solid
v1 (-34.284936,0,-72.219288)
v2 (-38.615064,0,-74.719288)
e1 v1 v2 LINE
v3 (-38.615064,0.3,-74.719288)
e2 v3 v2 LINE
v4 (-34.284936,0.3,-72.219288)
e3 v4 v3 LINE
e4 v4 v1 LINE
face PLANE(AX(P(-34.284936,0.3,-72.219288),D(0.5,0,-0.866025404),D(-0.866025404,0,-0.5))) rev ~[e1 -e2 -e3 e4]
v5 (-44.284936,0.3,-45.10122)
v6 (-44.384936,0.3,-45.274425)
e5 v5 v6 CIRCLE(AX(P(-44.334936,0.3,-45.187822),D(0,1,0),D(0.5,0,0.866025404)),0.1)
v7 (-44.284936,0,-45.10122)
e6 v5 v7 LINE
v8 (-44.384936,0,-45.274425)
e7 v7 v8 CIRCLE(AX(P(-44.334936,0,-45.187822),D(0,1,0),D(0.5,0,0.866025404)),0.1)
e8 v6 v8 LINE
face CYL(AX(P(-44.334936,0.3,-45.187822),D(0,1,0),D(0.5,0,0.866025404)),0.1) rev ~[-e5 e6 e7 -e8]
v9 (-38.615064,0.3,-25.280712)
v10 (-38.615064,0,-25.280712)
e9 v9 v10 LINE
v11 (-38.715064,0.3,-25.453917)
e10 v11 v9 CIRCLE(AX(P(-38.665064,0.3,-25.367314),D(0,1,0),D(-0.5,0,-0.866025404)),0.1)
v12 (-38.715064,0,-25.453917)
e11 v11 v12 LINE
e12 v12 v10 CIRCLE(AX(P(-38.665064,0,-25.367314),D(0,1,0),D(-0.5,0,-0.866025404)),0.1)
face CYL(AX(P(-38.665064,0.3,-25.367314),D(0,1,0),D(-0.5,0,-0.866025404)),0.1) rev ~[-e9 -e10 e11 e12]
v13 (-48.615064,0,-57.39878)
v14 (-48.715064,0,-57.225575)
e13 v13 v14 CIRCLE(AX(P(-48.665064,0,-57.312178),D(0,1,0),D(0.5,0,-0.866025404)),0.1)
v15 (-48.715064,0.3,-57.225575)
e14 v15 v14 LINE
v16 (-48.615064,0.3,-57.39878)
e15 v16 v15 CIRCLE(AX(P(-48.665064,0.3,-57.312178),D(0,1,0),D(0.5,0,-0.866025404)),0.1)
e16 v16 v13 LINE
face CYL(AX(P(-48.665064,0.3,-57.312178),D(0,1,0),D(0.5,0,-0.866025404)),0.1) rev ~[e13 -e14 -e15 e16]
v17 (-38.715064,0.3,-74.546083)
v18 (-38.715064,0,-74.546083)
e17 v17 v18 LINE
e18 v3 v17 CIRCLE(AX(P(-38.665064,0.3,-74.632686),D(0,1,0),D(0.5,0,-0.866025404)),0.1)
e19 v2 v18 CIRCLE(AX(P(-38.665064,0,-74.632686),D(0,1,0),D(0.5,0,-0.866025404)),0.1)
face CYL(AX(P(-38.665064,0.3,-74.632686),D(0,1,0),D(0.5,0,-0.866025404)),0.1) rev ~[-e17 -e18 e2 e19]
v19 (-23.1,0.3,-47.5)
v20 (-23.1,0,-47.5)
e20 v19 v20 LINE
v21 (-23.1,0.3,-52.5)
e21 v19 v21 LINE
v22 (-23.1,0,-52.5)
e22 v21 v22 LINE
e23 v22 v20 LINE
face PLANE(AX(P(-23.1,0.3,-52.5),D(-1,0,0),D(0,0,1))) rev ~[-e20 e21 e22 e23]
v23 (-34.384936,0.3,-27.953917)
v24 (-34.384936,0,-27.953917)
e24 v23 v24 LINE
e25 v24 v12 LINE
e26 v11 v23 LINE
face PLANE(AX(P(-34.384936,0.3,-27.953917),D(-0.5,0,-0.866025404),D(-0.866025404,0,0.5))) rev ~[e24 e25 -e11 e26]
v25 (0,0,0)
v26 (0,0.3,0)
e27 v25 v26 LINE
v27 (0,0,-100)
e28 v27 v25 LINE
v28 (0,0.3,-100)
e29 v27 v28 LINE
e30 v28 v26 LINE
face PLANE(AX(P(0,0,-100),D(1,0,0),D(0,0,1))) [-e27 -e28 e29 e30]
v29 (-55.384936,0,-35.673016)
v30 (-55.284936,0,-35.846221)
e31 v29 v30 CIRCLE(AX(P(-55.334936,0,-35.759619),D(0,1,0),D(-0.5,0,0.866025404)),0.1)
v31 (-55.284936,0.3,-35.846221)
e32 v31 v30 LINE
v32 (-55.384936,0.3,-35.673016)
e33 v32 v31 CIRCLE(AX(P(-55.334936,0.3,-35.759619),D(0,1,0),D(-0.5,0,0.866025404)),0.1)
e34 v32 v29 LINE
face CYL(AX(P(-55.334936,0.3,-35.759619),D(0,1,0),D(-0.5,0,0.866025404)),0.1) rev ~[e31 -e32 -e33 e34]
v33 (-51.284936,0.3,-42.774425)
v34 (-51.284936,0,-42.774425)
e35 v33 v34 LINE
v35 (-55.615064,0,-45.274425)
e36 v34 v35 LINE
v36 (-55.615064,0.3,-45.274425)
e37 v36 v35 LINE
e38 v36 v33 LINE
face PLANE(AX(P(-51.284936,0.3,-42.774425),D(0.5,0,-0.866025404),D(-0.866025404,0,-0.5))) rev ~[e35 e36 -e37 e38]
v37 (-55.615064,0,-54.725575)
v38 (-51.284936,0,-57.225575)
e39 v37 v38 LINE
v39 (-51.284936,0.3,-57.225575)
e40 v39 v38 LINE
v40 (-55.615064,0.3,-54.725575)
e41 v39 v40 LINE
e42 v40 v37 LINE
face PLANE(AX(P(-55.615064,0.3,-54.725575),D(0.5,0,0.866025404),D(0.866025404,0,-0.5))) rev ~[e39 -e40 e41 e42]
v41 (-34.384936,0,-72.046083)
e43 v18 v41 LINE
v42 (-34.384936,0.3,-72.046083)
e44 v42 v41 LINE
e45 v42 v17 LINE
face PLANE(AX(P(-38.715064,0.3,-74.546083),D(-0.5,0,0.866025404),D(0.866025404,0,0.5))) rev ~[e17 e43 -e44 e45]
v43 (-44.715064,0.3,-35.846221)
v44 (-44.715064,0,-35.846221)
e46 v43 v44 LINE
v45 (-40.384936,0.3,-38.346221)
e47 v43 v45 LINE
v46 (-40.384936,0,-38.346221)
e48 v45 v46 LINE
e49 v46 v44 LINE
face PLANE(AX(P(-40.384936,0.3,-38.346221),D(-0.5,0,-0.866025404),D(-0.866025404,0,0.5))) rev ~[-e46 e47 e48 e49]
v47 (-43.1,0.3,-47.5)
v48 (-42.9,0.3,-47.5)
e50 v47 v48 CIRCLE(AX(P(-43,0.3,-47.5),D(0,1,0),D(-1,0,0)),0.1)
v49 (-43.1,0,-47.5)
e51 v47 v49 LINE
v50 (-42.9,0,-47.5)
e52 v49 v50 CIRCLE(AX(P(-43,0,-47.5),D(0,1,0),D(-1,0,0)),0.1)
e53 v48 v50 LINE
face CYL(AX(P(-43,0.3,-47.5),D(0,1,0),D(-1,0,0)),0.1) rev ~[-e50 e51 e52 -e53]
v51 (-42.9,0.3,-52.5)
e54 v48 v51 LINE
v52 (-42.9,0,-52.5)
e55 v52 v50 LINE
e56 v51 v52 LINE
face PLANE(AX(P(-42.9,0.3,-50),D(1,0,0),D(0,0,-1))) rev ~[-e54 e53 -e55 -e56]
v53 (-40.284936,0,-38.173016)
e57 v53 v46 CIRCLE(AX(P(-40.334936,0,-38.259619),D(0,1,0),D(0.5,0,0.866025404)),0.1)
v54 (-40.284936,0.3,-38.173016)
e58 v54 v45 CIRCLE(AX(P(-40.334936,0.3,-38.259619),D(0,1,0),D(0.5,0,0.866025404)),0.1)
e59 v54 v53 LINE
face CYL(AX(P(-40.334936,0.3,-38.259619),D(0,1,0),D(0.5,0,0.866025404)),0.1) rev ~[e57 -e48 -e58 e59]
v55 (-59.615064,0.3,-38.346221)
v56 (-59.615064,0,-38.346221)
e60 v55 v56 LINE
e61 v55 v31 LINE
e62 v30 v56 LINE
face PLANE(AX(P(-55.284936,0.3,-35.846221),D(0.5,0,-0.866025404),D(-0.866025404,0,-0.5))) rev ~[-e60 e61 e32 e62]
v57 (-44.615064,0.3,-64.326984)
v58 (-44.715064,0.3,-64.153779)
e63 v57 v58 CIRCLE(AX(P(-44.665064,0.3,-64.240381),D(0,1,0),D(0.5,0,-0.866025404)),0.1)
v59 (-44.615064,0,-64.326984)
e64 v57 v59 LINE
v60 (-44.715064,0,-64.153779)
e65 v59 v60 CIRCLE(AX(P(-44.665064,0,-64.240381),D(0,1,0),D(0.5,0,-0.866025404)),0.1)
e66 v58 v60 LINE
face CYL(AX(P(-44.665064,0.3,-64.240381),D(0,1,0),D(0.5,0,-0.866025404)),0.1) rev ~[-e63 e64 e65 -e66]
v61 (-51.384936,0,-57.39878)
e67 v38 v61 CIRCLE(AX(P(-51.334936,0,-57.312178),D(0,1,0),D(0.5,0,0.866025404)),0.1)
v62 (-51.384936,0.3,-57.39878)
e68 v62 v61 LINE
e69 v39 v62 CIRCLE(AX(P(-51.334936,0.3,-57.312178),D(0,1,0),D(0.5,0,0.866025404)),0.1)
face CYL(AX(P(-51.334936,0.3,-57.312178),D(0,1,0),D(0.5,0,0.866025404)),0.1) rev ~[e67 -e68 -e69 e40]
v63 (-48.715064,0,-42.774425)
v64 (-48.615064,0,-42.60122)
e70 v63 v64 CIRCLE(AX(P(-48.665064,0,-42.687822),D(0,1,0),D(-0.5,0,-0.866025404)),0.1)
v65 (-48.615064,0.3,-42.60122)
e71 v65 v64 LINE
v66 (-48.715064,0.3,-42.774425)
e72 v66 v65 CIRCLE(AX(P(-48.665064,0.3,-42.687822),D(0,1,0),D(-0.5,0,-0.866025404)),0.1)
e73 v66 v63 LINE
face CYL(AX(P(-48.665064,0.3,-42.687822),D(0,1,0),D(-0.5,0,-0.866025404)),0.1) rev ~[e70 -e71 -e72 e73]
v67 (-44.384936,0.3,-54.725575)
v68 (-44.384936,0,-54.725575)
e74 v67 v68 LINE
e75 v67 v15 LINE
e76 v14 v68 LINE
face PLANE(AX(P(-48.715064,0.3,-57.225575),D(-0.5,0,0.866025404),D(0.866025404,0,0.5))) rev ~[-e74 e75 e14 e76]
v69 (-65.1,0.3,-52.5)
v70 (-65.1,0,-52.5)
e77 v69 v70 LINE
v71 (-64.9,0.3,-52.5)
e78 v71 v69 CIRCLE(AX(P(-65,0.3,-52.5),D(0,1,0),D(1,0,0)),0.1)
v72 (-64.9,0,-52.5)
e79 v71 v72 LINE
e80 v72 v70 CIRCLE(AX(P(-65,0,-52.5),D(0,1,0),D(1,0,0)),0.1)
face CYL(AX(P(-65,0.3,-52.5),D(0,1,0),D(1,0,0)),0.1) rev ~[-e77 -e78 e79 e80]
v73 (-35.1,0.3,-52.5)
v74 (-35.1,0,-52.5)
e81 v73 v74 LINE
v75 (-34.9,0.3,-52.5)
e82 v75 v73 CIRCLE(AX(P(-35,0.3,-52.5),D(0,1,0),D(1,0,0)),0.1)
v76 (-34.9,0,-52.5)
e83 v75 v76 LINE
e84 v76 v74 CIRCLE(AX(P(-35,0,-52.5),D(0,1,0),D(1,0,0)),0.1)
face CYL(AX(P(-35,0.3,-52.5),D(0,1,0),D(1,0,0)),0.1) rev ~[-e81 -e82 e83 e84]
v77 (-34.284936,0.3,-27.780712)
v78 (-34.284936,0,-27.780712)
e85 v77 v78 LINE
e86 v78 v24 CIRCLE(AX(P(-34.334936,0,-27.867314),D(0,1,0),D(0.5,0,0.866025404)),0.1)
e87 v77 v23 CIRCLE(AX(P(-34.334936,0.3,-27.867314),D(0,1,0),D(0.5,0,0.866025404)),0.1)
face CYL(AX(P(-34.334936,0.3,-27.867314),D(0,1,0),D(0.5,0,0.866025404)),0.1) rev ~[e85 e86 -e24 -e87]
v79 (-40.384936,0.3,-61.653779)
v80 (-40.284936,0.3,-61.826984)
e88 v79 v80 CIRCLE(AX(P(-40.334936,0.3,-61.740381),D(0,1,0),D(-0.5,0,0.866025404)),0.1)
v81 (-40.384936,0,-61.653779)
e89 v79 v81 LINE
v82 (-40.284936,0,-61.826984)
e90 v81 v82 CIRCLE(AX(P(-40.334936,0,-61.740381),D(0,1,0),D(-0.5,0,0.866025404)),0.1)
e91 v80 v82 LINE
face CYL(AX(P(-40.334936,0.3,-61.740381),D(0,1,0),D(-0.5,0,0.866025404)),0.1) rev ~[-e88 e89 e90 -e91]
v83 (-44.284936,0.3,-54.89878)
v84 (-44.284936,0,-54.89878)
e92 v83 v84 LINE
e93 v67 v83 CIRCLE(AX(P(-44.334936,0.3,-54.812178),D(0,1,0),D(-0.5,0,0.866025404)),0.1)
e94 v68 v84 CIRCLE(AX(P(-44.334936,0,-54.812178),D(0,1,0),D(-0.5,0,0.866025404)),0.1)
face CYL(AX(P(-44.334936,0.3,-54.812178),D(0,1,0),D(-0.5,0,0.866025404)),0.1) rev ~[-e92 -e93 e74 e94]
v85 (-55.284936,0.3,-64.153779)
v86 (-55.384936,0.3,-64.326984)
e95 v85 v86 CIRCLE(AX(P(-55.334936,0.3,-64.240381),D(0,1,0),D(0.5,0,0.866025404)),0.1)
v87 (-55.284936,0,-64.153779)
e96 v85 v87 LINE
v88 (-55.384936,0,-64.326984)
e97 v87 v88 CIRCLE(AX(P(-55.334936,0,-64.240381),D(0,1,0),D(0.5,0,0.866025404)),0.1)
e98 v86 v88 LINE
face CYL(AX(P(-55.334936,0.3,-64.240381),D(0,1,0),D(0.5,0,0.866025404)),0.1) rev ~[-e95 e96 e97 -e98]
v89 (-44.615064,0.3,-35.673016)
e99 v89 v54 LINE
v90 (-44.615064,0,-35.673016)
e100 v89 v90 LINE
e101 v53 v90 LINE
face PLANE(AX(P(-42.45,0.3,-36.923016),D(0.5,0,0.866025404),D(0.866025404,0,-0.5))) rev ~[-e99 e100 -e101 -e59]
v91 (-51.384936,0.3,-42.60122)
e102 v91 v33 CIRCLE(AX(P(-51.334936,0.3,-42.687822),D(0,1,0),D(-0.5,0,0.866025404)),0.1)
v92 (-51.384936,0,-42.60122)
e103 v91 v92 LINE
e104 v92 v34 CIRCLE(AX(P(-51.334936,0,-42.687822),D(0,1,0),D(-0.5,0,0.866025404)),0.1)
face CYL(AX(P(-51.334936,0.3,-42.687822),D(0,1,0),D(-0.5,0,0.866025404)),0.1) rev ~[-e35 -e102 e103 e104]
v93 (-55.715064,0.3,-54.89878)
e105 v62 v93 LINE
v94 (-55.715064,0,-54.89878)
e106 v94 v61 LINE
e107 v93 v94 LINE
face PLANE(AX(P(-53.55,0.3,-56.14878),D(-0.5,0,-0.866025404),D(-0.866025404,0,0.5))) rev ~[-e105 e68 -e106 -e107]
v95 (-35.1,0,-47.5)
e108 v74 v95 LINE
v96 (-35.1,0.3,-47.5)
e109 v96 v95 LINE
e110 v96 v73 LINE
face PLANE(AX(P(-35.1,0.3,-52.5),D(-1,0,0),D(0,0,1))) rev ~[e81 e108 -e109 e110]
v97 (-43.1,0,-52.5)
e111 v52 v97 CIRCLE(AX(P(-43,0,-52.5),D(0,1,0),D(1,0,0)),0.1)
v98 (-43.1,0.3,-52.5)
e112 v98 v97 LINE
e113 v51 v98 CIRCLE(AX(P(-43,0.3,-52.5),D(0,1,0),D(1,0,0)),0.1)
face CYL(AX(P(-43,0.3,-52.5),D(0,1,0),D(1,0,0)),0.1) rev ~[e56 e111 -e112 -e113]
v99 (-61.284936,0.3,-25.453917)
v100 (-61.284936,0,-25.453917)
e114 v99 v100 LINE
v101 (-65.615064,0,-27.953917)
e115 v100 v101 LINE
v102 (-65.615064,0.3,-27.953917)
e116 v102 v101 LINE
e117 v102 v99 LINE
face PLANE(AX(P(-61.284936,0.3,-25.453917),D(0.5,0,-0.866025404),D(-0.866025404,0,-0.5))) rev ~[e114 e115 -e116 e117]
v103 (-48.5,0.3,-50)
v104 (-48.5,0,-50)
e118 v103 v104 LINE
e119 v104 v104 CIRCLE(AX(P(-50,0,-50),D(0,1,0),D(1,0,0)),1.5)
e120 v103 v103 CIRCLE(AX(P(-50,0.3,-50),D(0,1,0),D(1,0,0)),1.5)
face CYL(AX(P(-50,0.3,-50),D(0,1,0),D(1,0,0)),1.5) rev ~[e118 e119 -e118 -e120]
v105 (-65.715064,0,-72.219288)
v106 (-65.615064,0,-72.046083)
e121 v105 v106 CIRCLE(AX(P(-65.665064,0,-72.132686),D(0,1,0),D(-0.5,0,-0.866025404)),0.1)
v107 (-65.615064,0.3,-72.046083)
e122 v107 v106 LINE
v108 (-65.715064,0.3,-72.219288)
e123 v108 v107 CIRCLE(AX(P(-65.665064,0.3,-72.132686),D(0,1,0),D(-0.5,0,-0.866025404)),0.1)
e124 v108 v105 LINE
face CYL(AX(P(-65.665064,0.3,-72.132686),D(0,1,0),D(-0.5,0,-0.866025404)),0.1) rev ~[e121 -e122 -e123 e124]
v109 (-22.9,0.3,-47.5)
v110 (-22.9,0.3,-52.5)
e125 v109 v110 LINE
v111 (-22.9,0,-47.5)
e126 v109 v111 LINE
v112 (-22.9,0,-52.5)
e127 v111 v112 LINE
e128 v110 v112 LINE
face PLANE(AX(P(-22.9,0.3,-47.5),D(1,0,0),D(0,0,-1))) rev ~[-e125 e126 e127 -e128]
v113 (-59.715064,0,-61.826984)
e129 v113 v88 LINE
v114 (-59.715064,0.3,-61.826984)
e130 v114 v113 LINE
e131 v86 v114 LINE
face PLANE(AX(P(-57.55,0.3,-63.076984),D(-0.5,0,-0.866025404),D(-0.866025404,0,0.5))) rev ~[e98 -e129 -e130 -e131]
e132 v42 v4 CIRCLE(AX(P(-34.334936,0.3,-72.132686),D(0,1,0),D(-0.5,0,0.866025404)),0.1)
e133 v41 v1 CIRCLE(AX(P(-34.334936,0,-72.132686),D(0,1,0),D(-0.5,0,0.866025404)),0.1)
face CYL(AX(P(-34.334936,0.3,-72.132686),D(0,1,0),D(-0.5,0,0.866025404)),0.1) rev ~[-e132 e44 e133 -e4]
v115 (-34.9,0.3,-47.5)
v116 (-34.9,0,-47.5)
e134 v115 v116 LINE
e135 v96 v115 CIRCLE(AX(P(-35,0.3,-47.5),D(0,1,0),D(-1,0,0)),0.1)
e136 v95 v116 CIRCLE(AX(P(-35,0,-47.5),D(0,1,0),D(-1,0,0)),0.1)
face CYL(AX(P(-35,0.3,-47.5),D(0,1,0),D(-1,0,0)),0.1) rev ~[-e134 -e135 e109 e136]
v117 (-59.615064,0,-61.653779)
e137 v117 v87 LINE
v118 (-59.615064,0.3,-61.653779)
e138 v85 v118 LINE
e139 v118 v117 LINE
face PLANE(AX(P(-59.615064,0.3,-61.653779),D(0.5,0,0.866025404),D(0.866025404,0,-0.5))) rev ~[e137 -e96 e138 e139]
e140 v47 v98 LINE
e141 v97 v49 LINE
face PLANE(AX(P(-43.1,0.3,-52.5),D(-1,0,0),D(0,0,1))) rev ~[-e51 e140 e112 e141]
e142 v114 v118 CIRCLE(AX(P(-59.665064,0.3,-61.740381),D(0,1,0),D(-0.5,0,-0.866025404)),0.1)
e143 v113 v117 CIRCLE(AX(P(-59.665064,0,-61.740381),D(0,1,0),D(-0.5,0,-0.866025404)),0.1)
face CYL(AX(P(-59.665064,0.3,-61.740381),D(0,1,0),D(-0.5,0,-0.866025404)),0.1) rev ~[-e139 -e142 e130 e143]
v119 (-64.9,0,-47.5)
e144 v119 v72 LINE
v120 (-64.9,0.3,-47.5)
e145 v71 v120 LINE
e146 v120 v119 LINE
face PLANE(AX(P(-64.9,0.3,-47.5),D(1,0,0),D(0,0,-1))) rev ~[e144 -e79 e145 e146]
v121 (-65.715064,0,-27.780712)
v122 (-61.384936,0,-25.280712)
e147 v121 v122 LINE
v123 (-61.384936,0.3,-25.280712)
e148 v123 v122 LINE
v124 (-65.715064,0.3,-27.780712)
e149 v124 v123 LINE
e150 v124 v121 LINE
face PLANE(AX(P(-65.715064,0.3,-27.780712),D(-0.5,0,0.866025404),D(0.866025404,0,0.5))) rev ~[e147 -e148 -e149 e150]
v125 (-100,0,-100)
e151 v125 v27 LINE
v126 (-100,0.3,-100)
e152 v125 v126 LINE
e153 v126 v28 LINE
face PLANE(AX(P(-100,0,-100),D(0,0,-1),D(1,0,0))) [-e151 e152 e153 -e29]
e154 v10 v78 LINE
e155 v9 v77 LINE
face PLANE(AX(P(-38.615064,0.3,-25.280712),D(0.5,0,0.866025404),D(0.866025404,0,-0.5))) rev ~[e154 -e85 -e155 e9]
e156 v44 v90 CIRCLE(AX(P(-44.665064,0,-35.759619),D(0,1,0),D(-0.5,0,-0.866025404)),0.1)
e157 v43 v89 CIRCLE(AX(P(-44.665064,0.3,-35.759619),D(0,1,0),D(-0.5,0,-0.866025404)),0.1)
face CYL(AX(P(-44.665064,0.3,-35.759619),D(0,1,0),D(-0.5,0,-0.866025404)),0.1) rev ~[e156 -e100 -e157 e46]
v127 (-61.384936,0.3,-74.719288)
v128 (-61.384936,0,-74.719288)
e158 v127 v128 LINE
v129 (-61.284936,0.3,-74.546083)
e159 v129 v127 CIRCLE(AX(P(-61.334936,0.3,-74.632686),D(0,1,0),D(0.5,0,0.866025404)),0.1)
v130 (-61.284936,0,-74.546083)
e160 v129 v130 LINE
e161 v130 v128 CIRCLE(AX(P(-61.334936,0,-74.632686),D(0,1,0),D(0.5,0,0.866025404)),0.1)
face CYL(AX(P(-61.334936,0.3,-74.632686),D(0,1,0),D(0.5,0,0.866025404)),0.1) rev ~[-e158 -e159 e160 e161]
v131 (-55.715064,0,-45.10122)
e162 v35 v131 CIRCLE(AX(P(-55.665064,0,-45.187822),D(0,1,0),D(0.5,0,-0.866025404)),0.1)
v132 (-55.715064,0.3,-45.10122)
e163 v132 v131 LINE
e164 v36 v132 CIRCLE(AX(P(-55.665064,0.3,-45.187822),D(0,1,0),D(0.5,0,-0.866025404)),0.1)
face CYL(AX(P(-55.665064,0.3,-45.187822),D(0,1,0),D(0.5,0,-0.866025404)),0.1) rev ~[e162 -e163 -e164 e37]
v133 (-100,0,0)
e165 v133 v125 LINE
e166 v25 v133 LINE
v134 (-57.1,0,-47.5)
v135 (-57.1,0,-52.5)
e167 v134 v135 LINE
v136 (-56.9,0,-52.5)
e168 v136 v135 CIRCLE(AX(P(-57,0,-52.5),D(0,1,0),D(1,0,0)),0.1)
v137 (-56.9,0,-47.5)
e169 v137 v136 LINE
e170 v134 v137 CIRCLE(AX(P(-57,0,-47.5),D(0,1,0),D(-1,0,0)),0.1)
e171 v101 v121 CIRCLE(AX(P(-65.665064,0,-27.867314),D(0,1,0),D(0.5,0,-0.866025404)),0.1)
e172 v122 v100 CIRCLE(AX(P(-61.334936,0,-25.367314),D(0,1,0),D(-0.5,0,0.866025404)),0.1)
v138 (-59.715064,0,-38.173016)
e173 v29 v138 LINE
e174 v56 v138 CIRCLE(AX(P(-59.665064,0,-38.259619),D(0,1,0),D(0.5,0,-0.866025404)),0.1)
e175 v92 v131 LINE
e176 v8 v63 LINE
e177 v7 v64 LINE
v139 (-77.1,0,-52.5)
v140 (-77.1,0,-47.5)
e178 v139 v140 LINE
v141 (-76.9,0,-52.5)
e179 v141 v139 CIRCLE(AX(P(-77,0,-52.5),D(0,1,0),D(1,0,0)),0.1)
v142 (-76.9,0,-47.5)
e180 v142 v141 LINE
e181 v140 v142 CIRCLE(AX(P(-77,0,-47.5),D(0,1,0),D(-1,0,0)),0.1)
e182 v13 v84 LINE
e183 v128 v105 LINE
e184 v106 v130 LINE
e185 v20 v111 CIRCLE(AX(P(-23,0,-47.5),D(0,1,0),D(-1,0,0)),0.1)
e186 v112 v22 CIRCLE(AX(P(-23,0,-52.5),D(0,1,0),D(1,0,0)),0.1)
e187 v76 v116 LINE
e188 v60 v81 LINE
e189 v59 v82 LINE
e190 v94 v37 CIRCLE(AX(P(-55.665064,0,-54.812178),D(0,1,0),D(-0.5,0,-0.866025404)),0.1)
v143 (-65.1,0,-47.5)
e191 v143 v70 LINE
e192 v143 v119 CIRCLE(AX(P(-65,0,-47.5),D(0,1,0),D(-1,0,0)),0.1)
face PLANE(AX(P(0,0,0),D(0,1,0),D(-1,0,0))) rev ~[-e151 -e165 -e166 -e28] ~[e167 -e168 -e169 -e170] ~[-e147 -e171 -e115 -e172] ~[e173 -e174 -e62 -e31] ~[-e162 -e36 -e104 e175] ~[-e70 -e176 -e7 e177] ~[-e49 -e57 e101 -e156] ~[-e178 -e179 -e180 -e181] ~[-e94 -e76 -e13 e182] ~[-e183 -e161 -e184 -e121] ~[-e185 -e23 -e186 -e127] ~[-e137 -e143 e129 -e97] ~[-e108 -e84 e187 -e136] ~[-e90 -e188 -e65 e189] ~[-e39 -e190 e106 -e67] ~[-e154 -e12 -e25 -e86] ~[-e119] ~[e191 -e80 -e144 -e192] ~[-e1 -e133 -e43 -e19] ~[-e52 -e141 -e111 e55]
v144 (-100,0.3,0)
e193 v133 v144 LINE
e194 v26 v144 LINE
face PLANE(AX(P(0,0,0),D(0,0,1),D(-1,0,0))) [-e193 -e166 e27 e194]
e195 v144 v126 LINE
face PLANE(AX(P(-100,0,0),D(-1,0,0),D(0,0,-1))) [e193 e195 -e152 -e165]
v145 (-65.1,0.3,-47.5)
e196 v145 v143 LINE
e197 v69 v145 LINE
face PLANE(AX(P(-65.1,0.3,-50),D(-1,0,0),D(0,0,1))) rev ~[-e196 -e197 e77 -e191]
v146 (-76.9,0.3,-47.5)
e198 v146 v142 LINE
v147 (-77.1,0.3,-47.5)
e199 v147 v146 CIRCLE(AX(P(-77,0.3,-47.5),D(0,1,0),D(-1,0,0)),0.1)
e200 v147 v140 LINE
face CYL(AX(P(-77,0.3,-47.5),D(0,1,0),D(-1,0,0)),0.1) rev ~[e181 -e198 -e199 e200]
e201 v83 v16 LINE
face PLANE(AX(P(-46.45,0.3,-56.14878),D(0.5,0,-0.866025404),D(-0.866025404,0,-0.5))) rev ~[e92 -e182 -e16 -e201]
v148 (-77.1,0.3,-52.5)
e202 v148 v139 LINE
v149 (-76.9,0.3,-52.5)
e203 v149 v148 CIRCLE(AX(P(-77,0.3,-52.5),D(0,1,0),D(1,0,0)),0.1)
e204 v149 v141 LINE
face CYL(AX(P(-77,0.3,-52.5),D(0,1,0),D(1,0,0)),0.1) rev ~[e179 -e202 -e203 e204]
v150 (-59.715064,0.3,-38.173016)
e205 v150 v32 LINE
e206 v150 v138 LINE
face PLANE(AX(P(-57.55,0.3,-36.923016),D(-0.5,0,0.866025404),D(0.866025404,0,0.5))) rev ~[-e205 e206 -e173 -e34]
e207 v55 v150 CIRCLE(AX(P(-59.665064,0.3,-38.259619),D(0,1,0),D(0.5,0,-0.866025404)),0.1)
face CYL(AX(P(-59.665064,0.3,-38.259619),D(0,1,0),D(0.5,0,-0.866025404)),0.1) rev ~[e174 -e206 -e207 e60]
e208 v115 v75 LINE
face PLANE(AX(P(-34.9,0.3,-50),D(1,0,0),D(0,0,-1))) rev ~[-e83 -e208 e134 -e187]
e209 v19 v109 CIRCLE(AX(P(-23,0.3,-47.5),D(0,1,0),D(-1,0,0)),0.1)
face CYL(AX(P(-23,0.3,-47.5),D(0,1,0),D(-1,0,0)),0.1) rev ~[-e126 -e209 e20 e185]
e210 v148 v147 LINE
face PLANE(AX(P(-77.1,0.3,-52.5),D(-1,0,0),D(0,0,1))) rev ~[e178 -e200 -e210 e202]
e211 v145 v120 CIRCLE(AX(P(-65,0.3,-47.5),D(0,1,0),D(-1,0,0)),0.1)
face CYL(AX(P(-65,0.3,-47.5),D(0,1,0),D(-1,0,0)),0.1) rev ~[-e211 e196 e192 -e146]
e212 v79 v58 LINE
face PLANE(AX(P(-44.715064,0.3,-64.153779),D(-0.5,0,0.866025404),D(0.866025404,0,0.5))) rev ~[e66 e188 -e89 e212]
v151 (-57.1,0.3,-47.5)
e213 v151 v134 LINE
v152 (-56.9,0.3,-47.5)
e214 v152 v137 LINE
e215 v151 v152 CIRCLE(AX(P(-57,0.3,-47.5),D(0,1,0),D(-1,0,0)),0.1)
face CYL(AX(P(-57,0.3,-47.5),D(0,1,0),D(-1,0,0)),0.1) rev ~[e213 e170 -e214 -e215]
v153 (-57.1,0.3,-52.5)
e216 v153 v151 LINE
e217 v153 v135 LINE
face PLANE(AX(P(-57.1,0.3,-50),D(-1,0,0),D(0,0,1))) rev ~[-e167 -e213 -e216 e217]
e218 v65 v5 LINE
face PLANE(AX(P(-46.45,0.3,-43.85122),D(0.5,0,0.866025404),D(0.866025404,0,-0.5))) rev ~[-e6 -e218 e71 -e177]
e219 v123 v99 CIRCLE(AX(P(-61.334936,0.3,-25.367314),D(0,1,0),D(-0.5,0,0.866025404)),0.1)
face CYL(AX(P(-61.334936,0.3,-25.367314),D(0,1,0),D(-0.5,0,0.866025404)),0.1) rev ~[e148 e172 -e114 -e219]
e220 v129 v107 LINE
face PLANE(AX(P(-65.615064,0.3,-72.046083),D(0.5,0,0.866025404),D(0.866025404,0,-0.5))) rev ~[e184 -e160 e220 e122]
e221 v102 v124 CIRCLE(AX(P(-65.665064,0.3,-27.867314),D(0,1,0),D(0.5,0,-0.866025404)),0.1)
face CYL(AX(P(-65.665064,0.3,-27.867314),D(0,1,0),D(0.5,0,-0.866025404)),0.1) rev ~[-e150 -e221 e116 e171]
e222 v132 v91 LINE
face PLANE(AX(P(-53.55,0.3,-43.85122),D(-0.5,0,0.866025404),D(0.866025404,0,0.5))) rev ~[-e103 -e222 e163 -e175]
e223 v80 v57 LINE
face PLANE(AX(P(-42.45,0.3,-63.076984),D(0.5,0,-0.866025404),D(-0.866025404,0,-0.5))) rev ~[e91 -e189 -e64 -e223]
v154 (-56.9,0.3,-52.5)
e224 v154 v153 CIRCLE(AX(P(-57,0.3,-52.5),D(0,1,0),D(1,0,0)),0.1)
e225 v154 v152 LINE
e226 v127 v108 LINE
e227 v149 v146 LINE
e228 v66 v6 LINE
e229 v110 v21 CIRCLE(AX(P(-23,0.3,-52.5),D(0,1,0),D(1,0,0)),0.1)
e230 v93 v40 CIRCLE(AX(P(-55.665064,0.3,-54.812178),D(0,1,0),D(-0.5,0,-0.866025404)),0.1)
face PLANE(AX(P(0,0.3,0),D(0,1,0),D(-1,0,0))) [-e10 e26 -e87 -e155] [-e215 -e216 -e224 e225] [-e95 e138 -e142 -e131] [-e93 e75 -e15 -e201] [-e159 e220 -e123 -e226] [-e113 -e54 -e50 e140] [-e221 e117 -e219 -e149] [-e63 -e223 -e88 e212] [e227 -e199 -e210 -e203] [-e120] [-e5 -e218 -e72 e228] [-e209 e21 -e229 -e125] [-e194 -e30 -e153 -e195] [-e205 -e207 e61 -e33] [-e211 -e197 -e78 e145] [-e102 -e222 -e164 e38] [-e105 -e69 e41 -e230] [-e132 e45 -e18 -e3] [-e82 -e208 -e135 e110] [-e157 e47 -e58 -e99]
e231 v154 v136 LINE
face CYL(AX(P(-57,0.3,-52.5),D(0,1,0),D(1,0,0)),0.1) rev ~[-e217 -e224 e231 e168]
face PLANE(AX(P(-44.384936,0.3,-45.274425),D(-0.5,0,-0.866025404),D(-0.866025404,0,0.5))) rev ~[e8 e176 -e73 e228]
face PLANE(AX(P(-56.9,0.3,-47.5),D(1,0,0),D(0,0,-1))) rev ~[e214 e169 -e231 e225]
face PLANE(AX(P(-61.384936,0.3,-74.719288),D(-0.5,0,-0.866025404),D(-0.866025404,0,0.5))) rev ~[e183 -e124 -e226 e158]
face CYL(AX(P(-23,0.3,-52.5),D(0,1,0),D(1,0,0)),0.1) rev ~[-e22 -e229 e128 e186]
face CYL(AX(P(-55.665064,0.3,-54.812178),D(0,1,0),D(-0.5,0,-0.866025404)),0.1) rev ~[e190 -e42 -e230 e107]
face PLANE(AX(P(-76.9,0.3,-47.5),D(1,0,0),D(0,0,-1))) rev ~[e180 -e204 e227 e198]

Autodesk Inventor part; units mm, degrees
ref_plane "YZ Plane" through (0, 0, 0) normal (1, 0, 0) x (0, 1, 0)
ref_plane "XZ Plane" through (0, 0, 0) normal (0, 1, 0) x (-1, 0, 0)
ref_plane "XY Plane" through (0, 0, 0) normal (0, 0, 1) x (1, 0, 0)
sketch "Sketch1" plane through (0, 0, 0) normal (0, 1, 0) x (-1, 0, 0)
  line L0 (0, 0) -> (100, 0)
  line L1 (100, 0) -> (100, -100)
  line L2 (100, -100) -> (0, -100)
  line L3 (0, -100) -> (0, 0)
  dimension "d0" = 100
  dimension "d1" = 100
extrude "Extrusion1" add sketch "Sketch1" along normal blind 0.3
sketch "Sketch2" plane through (0, 0.3, 0) normal (0, 1, 0) x (1, 0, 0)
  line L0 (-100, 100) -> (-100, 0) projected
  line L1 (-100, 0) -> (0, 0) projected
  line L2 (0, 0) -> (0, 100) projected
  line L3 (0, 100) -> (-100, 100) projected
  line L4 (0, 0) -> (0, 50)
  line L5 (0, 0) -> (0, 100) projected
  line L6 (0, 50) -> (-50, 50)
  circle A0 centre (-50, 50) radius 1.5
  dimension "d4" = 50
  dimension "d5" = 3
extrude "Extrusion2" cut sketch "Sketch2" against normal blind 0.3 contours A0
sketch "Sketch3" plane through (0, 0.3, 0) normal (0, 1, 0) x (1, 0, 0)
  circle A0 centre (-50, 50) radius 1.5 projected
  line L0 (-100, 100) -> (-100, 0) projected
  line L1 (-100, 0) -> (0, 0) projected
  line L2 (0, 0) -> (0, 100) projected
  line L3 (0, 100) -> (-100, 100) projected
  line L4 (-50, 50) -> (-57, 50)
  line L5 (-57, 47.5) -> (-57, 52.5) construction
  line L6 (-56.9, 47.5) -> (-56.9, 52.5)
  line L7 (-57.1, 52.5) -> (-57.1, 47.5)
  arc A1 (-57.1, 47.5) -> (-56.9, 47.5) centre (-57, 47.5) ccw
  arc A2 (-56.9, 52.5) -> (-57.1, 52.5) centre (-57, 52.5) ccw
  line L8 (-57, 50) -> (-65, 50)
  line L9 (-65, 47.5) -> (-65, 52.5) construction
  line L10 (-64.9, 47.5) -> (-64.9, 52.5)
  line L11 (-65.1, 52.5) -> (-65.1, 47.5)
  arc A3 (-65.1, 47.5) -> (-64.9, 47.5) centre (-65, 47.5) ccw
  arc A4 (-64.9, 52.5) -> (-65.1, 52.5) centre (-65, 52.5) ccw
  line L12 (-65, 50) -> (-77, 50)
  line L13 (-77, 47.5) -> (-77, 52.5) construction
  line L14 (-76.9, 47.5) -> (-76.9, 52.5)
  line L15 (-77.1, 52.5) -> (-77.1, 47.5)
  arc A5 (-77.1, 47.5) -> (-76.9, 47.5) centre (-77, 47.5) ccw
  arc A6 (-76.9, 52.5) -> (-77.1, 52.5) centre (-77, 52.5) ccw
  dimension "d8" = 7
  dimension "d9" = 2.5
  dimension "d10" = 0.2
  dimension "d11" = 8
  dimension "d12" = 2.5
  dimension "d13" = 0.2
  dimension "d14" = 12
  dimension "d15" = 2.5
  dimension "d16" = 0.2
extrude "Extrusion3" cut sketch "Sketch3" against normal blind 0.3 contours L14 A5 L15 A6 | L10 A3 L11 L12 L8 | L8 L12 L11 A4 L10 | L6 A1 L7 L8 L4 | L4 L8 L7 A2 L6
pattern_circular "Circular Pattern1" count 6 over 360 about axis through (-50, 0.3, -50) along (0, -1, 0) of "Extrusion3"
sketch "Sketch4" plane through (0, 0.3, 0) normal (0, 1, 0) x (1, 0, 0)
  line L0 (-51.3849, 42.6012) -> (-55.7151, 45.1012) projected
  arc A0 (-55.6151, 45.2744) -> (-55.7151, 45.1012) centre (-55.6651, 45.1878) ccw projected
  line L1 (-55.6151, 45.2744) -> (-51.2849, 42.7744) projected
  arc A1 (-51.3849, 42.6012) -> (-51.2849, 42.7744) centre (-51.3349, 42.6878) ccw projected
  line L2 (-55.3849, 35.673) -> (-59.7151, 38.173) projected
  arc A2 (-59.6151, 38.3462) -> (-59.7151, 38.173) centre (-59.6651, 38.2596) ccw projected
  line L3 (-59.6151, 38.3462) -> (-55.2849, 35.8462) projected
  arc A3 (-55.3849, 35.673) -> (-55.2849, 35.8462) centre (-55.3349, 35.7596) ccw projected
  arc A4 (-65.6151, 27.9539) -> (-65.7151, 27.7807) centre (-65.6651, 27.8673) ccw projected
  line L4 (-65.6151, 27.9539) -> (-61.2849, 25.4539) projected
  arc A5 (-61.3849, 25.2807) -> (-61.2849, 25.4539) centre (-61.3349, 25.3673) ccw projected
  line L5 (-61.3849, 25.2807) -> (-65.7151, 27.7807) projected
  line L6 (-44.2849, 45.1012) -> (-48.6151, 42.6012) projected
  arc A6 (-48.7151, 42.7744) -> (-48.6151, 42.6012) centre (-48.6651, 42.6878) ccw projected
  line L7 (-48.7151, 42.7744) -> (-44.3849, 45.2744) projected
  arc A7 (-44.2849, 45.1012) -> (-44.3849, 45.2744) centre (-44.3349, 45.1878) ccw projected
  line L8 (-40.2849, 38.173) -> (-44.6151, 35.673) projected
  arc A8 (-44.7151, 35.8462) -> (-44.6151, 35.673) centre (-44.6651, 35.7596) ccw projected
  line L9 (-44.7151, 35.8462) -> (-40.3849, 38.3462) projected
  arc A9 (-40.2849, 38.173) -> (-40.3849, 38.3462) centre (-40.3349, 38.2596) ccw projected
  arc A10 (-38.7151, 25.4539) -> (-38.6151, 25.2807) centre (-38.6651, 25.3673) ccw projected
  line L10 (-38.7151, 25.4539) -> (-34.3849, 27.9539) projected
  arc A11 (-34.2849, 27.7807) -> (-34.3849, 27.9539) centre (-34.3349, 27.8673) ccw projected
  line L11 (-34.2849, 27.7807) -> (-38.6151, 25.2807) projected
  line L12 (-42.9, 52.5) -> (-42.9, 47.5) projected
  arc A12 (-43.1, 47.5) -> (-42.9, 47.5) centre (-43, 47.5) ccw projected
  line L13 (-43.1, 47.5) -> (-43.1, 52.5) projected
  arc A13 (-42.9, 52.5) -> (-43.1, 52.5) centre (-43, 52.5) ccw projected
  line L14 (-34.9, 52.5) -> (-34.9, 47.5) projected
  arc A14 (-35.1, 47.5) -> (-34.9, 47.5) centre (-35, 47.5) ccw projected
  line L15 (-35.1, 47.5) -> (-35.1, 52.5) projected
  arc A15 (-34.9, 52.5) -> (-35.1, 52.5) centre (-35, 52.5) ccw projected
  arc A16 (-23.1, 47.5) -> (-22.9, 47.5) centre (-23, 47.5) ccw projected
  line L16 (-23.1, 47.5) -> (-23.1, 52.5) projected
  arc A17 (-22.9, 52.5) -> (-23.1, 52.5) centre (-23, 52.5) ccw projected
  line L17 (-22.9, 52.5) -> (-22.9, 47.5) projected
  line L18 (-48.6151, 57.3988) -> (-44.2849, 54.8988) projected
  arc A18 (-44.3849, 54.7256) -> (-44.2849, 54.8988) centre (-44.3349, 54.8122) ccw projected
  line L19 (-44.3849, 54.7256) -> (-48.7151, 57.2256) projected
  arc A19 (-48.6151, 57.3988) -> (-48.7151, 57.2256) centre (-48.6651, 57.3122) ccw projected
  line L20 (-44.6151, 64.327) -> (-40.2849, 61.827) projected
  arc A20 (-40.3849, 61.6538) -> (-40.2849, 61.827) centre (-40.3349, 61.7404) ccw projected
  line L21 (-40.3849, 61.6538) -> (-44.7151, 64.1538) projected
  arc A21 (-44.6151, 64.327) -> (-44.7151, 64.1538) centre (-44.6651, 64.2404) ccw projected
  arc A22 (-34.3849, 72.0461) -> (-34.2849, 72.2193) centre (-34.3349, 72.1327) ccw projected
  line L22 (-34.3849, 72.0461) -> (-38.7151, 74.5461) projected
  arc A23 (-38.6151, 74.7193) -> (-38.7151, 74.5461) centre (-38.6651, 74.6327) ccw projected
  line L23 (-38.6151, 74.7193) -> (-34.2849, 72.2193) projected
  line L24 (-55.7151, 54.8988) -> (-51.3849, 57.3988) projected
  arc A24 (-51.2849, 57.2256) -> (-51.3849, 57.3988) centre (-51.3349, 57.3122) ccw projected
  line L25 (-51.2849, 57.2256) -> (-55.6151, 54.7256) projected
  arc A25 (-55.7151, 54.8988) -> (-55.6151, 54.7256) centre (-55.6651, 54.8122) ccw projected
  line L26 (-59.7151, 61.827) -> (-55.3849, 64.327) projected
  arc A26 (-55.2849, 64.1538) -> (-55.3849, 64.327) centre (-55.3349, 64.2404) ccw projected
  line L27 (-55.2849, 64.1538) -> (-59.6151, 61.6538) projected
  arc A27 (-59.7151, 61.827) -> (-59.6151, 61.6538) centre (-59.6651, 61.7404) ccw projected
  arc A28 (-61.2849, 74.5461) -> (-61.3849, 74.7193) centre (-61.3349, 74.6327) ccw projected
  line L28 (-61.2849, 74.5461) -> (-65.6151, 72.0461) projected
  arc A29 (-65.7151, 72.2193) -> (-65.6151, 72.0461) centre (-65.6651, 72.1327) ccw projected
  line L29 (-65.7151, 72.2193) -> (-61.3849, 74.7193) projected
  line L30 (-57.1, 47.5) -> (-57.1, 52.5) projected
  arc A30 (-56.9, 52.5) -> (-57.1, 52.5) centre (-57, 52.5) ccw projected
  line L31 (-56.9, 52.5) -> (-56.9, 47.5) projected
  arc A31 (-57.1, 47.5) -> (-56.9, 47.5) centre (-57, 47.5) ccw projected
  line L32 (-65.1, 47.5) -> (-65.1, 52.5) projected
  arc A32 (-64.9, 52.5) -> (-65.1, 52.5) centre (-65, 52.5) ccw projected
  line L33 (-64.9, 52.5) -> (-64.9, 47.5) projected
  arc A33 (-65.1, 47.5) -> (-64.9, 47.5) centre (-65, 47.5) ccw projected
  arc A34 (-76.9, 52.5) -> (-77.1, 52.5) centre (-77, 52.5) ccw projected
  line L34 (-76.9, 52.5) -> (-76.9, 47.5) projected
  arc A35 (-77.1, 47.5) -> (-76.9, 47.5) centre (-77, 47.5) ccw projected
  line L35 (-77.1, 47.5) -> (-77.1, 52.5) projected
  circle A36 centre (-50, 50) radius 1.5 projected
  line L36 (0, 0) -> (0, 100) projected
  line L37 (0, 100) -> (-100, 100) projected
  line L38 (-100, 100) -> (-100, 0) projected
  line L39 (-100, 0) -> (0, 0) projected
  line L40 (-76.9, 47.5) -> (-76.9, 52.5) projected
  line L41 (-76.9, 50) -> (-77, 50)
  line L42 (-76.9, 52.5) -> (-76.9, 47.5) projected
  line L43 (-77, 50) -> (-82, 50)
  line L44 (-87, 48) -> (-87, 52)
  line L45 (-87, 52) -> (-77, 52)
  line L46 (-77, 52) -> (-77, 48)
  line L47 (-77, 48) -> (-87, 48)
  line L48 (-87, 48) -> (-77, 52) construction
  line L49 (-87, 52) -> (-77, 48) construction
  circle A37 centre (-82, 50) radius 0.6
  line L50 (-82, 50) -> (-85.5, 50)
  circle A38 centre (-85.5, 50) radius 0.6
  circle A39 centre (-50, 50) radius 1.5 projected
  line L51 (-50, 50) -> (-77, 50)
  circle A40 centre (-50, 50) radius 6
  line L52 (-50, 50) -> (-63.5, 50)
  line L53 (-50, 48) -> (-50, 52)
  line L54 (-50, 52) -> (-77, 52)
  line L55 (-77, 52) -> (-77, 48)
  line L56 (-77, 48) -> (-50, 48)
  line L57 (-50, 48) -> (-77, 52) construction
  line L58 (-50, 52) -> (-77, 48) construction
  dimension "d22" = 0.1
  dimension "d23" = 5
  dimension "d24" = 4
  dimension "d25" = 10
  dimension "d26" = 1.2
  dimension "d27" = 3.5
  dimension "d28" = 1.2
  dimension "d29" = 12
  dimension "d30" = 13.5
  dimension "d31" = 4
  dimension "d32" = 27
properties part number "layer_1"
